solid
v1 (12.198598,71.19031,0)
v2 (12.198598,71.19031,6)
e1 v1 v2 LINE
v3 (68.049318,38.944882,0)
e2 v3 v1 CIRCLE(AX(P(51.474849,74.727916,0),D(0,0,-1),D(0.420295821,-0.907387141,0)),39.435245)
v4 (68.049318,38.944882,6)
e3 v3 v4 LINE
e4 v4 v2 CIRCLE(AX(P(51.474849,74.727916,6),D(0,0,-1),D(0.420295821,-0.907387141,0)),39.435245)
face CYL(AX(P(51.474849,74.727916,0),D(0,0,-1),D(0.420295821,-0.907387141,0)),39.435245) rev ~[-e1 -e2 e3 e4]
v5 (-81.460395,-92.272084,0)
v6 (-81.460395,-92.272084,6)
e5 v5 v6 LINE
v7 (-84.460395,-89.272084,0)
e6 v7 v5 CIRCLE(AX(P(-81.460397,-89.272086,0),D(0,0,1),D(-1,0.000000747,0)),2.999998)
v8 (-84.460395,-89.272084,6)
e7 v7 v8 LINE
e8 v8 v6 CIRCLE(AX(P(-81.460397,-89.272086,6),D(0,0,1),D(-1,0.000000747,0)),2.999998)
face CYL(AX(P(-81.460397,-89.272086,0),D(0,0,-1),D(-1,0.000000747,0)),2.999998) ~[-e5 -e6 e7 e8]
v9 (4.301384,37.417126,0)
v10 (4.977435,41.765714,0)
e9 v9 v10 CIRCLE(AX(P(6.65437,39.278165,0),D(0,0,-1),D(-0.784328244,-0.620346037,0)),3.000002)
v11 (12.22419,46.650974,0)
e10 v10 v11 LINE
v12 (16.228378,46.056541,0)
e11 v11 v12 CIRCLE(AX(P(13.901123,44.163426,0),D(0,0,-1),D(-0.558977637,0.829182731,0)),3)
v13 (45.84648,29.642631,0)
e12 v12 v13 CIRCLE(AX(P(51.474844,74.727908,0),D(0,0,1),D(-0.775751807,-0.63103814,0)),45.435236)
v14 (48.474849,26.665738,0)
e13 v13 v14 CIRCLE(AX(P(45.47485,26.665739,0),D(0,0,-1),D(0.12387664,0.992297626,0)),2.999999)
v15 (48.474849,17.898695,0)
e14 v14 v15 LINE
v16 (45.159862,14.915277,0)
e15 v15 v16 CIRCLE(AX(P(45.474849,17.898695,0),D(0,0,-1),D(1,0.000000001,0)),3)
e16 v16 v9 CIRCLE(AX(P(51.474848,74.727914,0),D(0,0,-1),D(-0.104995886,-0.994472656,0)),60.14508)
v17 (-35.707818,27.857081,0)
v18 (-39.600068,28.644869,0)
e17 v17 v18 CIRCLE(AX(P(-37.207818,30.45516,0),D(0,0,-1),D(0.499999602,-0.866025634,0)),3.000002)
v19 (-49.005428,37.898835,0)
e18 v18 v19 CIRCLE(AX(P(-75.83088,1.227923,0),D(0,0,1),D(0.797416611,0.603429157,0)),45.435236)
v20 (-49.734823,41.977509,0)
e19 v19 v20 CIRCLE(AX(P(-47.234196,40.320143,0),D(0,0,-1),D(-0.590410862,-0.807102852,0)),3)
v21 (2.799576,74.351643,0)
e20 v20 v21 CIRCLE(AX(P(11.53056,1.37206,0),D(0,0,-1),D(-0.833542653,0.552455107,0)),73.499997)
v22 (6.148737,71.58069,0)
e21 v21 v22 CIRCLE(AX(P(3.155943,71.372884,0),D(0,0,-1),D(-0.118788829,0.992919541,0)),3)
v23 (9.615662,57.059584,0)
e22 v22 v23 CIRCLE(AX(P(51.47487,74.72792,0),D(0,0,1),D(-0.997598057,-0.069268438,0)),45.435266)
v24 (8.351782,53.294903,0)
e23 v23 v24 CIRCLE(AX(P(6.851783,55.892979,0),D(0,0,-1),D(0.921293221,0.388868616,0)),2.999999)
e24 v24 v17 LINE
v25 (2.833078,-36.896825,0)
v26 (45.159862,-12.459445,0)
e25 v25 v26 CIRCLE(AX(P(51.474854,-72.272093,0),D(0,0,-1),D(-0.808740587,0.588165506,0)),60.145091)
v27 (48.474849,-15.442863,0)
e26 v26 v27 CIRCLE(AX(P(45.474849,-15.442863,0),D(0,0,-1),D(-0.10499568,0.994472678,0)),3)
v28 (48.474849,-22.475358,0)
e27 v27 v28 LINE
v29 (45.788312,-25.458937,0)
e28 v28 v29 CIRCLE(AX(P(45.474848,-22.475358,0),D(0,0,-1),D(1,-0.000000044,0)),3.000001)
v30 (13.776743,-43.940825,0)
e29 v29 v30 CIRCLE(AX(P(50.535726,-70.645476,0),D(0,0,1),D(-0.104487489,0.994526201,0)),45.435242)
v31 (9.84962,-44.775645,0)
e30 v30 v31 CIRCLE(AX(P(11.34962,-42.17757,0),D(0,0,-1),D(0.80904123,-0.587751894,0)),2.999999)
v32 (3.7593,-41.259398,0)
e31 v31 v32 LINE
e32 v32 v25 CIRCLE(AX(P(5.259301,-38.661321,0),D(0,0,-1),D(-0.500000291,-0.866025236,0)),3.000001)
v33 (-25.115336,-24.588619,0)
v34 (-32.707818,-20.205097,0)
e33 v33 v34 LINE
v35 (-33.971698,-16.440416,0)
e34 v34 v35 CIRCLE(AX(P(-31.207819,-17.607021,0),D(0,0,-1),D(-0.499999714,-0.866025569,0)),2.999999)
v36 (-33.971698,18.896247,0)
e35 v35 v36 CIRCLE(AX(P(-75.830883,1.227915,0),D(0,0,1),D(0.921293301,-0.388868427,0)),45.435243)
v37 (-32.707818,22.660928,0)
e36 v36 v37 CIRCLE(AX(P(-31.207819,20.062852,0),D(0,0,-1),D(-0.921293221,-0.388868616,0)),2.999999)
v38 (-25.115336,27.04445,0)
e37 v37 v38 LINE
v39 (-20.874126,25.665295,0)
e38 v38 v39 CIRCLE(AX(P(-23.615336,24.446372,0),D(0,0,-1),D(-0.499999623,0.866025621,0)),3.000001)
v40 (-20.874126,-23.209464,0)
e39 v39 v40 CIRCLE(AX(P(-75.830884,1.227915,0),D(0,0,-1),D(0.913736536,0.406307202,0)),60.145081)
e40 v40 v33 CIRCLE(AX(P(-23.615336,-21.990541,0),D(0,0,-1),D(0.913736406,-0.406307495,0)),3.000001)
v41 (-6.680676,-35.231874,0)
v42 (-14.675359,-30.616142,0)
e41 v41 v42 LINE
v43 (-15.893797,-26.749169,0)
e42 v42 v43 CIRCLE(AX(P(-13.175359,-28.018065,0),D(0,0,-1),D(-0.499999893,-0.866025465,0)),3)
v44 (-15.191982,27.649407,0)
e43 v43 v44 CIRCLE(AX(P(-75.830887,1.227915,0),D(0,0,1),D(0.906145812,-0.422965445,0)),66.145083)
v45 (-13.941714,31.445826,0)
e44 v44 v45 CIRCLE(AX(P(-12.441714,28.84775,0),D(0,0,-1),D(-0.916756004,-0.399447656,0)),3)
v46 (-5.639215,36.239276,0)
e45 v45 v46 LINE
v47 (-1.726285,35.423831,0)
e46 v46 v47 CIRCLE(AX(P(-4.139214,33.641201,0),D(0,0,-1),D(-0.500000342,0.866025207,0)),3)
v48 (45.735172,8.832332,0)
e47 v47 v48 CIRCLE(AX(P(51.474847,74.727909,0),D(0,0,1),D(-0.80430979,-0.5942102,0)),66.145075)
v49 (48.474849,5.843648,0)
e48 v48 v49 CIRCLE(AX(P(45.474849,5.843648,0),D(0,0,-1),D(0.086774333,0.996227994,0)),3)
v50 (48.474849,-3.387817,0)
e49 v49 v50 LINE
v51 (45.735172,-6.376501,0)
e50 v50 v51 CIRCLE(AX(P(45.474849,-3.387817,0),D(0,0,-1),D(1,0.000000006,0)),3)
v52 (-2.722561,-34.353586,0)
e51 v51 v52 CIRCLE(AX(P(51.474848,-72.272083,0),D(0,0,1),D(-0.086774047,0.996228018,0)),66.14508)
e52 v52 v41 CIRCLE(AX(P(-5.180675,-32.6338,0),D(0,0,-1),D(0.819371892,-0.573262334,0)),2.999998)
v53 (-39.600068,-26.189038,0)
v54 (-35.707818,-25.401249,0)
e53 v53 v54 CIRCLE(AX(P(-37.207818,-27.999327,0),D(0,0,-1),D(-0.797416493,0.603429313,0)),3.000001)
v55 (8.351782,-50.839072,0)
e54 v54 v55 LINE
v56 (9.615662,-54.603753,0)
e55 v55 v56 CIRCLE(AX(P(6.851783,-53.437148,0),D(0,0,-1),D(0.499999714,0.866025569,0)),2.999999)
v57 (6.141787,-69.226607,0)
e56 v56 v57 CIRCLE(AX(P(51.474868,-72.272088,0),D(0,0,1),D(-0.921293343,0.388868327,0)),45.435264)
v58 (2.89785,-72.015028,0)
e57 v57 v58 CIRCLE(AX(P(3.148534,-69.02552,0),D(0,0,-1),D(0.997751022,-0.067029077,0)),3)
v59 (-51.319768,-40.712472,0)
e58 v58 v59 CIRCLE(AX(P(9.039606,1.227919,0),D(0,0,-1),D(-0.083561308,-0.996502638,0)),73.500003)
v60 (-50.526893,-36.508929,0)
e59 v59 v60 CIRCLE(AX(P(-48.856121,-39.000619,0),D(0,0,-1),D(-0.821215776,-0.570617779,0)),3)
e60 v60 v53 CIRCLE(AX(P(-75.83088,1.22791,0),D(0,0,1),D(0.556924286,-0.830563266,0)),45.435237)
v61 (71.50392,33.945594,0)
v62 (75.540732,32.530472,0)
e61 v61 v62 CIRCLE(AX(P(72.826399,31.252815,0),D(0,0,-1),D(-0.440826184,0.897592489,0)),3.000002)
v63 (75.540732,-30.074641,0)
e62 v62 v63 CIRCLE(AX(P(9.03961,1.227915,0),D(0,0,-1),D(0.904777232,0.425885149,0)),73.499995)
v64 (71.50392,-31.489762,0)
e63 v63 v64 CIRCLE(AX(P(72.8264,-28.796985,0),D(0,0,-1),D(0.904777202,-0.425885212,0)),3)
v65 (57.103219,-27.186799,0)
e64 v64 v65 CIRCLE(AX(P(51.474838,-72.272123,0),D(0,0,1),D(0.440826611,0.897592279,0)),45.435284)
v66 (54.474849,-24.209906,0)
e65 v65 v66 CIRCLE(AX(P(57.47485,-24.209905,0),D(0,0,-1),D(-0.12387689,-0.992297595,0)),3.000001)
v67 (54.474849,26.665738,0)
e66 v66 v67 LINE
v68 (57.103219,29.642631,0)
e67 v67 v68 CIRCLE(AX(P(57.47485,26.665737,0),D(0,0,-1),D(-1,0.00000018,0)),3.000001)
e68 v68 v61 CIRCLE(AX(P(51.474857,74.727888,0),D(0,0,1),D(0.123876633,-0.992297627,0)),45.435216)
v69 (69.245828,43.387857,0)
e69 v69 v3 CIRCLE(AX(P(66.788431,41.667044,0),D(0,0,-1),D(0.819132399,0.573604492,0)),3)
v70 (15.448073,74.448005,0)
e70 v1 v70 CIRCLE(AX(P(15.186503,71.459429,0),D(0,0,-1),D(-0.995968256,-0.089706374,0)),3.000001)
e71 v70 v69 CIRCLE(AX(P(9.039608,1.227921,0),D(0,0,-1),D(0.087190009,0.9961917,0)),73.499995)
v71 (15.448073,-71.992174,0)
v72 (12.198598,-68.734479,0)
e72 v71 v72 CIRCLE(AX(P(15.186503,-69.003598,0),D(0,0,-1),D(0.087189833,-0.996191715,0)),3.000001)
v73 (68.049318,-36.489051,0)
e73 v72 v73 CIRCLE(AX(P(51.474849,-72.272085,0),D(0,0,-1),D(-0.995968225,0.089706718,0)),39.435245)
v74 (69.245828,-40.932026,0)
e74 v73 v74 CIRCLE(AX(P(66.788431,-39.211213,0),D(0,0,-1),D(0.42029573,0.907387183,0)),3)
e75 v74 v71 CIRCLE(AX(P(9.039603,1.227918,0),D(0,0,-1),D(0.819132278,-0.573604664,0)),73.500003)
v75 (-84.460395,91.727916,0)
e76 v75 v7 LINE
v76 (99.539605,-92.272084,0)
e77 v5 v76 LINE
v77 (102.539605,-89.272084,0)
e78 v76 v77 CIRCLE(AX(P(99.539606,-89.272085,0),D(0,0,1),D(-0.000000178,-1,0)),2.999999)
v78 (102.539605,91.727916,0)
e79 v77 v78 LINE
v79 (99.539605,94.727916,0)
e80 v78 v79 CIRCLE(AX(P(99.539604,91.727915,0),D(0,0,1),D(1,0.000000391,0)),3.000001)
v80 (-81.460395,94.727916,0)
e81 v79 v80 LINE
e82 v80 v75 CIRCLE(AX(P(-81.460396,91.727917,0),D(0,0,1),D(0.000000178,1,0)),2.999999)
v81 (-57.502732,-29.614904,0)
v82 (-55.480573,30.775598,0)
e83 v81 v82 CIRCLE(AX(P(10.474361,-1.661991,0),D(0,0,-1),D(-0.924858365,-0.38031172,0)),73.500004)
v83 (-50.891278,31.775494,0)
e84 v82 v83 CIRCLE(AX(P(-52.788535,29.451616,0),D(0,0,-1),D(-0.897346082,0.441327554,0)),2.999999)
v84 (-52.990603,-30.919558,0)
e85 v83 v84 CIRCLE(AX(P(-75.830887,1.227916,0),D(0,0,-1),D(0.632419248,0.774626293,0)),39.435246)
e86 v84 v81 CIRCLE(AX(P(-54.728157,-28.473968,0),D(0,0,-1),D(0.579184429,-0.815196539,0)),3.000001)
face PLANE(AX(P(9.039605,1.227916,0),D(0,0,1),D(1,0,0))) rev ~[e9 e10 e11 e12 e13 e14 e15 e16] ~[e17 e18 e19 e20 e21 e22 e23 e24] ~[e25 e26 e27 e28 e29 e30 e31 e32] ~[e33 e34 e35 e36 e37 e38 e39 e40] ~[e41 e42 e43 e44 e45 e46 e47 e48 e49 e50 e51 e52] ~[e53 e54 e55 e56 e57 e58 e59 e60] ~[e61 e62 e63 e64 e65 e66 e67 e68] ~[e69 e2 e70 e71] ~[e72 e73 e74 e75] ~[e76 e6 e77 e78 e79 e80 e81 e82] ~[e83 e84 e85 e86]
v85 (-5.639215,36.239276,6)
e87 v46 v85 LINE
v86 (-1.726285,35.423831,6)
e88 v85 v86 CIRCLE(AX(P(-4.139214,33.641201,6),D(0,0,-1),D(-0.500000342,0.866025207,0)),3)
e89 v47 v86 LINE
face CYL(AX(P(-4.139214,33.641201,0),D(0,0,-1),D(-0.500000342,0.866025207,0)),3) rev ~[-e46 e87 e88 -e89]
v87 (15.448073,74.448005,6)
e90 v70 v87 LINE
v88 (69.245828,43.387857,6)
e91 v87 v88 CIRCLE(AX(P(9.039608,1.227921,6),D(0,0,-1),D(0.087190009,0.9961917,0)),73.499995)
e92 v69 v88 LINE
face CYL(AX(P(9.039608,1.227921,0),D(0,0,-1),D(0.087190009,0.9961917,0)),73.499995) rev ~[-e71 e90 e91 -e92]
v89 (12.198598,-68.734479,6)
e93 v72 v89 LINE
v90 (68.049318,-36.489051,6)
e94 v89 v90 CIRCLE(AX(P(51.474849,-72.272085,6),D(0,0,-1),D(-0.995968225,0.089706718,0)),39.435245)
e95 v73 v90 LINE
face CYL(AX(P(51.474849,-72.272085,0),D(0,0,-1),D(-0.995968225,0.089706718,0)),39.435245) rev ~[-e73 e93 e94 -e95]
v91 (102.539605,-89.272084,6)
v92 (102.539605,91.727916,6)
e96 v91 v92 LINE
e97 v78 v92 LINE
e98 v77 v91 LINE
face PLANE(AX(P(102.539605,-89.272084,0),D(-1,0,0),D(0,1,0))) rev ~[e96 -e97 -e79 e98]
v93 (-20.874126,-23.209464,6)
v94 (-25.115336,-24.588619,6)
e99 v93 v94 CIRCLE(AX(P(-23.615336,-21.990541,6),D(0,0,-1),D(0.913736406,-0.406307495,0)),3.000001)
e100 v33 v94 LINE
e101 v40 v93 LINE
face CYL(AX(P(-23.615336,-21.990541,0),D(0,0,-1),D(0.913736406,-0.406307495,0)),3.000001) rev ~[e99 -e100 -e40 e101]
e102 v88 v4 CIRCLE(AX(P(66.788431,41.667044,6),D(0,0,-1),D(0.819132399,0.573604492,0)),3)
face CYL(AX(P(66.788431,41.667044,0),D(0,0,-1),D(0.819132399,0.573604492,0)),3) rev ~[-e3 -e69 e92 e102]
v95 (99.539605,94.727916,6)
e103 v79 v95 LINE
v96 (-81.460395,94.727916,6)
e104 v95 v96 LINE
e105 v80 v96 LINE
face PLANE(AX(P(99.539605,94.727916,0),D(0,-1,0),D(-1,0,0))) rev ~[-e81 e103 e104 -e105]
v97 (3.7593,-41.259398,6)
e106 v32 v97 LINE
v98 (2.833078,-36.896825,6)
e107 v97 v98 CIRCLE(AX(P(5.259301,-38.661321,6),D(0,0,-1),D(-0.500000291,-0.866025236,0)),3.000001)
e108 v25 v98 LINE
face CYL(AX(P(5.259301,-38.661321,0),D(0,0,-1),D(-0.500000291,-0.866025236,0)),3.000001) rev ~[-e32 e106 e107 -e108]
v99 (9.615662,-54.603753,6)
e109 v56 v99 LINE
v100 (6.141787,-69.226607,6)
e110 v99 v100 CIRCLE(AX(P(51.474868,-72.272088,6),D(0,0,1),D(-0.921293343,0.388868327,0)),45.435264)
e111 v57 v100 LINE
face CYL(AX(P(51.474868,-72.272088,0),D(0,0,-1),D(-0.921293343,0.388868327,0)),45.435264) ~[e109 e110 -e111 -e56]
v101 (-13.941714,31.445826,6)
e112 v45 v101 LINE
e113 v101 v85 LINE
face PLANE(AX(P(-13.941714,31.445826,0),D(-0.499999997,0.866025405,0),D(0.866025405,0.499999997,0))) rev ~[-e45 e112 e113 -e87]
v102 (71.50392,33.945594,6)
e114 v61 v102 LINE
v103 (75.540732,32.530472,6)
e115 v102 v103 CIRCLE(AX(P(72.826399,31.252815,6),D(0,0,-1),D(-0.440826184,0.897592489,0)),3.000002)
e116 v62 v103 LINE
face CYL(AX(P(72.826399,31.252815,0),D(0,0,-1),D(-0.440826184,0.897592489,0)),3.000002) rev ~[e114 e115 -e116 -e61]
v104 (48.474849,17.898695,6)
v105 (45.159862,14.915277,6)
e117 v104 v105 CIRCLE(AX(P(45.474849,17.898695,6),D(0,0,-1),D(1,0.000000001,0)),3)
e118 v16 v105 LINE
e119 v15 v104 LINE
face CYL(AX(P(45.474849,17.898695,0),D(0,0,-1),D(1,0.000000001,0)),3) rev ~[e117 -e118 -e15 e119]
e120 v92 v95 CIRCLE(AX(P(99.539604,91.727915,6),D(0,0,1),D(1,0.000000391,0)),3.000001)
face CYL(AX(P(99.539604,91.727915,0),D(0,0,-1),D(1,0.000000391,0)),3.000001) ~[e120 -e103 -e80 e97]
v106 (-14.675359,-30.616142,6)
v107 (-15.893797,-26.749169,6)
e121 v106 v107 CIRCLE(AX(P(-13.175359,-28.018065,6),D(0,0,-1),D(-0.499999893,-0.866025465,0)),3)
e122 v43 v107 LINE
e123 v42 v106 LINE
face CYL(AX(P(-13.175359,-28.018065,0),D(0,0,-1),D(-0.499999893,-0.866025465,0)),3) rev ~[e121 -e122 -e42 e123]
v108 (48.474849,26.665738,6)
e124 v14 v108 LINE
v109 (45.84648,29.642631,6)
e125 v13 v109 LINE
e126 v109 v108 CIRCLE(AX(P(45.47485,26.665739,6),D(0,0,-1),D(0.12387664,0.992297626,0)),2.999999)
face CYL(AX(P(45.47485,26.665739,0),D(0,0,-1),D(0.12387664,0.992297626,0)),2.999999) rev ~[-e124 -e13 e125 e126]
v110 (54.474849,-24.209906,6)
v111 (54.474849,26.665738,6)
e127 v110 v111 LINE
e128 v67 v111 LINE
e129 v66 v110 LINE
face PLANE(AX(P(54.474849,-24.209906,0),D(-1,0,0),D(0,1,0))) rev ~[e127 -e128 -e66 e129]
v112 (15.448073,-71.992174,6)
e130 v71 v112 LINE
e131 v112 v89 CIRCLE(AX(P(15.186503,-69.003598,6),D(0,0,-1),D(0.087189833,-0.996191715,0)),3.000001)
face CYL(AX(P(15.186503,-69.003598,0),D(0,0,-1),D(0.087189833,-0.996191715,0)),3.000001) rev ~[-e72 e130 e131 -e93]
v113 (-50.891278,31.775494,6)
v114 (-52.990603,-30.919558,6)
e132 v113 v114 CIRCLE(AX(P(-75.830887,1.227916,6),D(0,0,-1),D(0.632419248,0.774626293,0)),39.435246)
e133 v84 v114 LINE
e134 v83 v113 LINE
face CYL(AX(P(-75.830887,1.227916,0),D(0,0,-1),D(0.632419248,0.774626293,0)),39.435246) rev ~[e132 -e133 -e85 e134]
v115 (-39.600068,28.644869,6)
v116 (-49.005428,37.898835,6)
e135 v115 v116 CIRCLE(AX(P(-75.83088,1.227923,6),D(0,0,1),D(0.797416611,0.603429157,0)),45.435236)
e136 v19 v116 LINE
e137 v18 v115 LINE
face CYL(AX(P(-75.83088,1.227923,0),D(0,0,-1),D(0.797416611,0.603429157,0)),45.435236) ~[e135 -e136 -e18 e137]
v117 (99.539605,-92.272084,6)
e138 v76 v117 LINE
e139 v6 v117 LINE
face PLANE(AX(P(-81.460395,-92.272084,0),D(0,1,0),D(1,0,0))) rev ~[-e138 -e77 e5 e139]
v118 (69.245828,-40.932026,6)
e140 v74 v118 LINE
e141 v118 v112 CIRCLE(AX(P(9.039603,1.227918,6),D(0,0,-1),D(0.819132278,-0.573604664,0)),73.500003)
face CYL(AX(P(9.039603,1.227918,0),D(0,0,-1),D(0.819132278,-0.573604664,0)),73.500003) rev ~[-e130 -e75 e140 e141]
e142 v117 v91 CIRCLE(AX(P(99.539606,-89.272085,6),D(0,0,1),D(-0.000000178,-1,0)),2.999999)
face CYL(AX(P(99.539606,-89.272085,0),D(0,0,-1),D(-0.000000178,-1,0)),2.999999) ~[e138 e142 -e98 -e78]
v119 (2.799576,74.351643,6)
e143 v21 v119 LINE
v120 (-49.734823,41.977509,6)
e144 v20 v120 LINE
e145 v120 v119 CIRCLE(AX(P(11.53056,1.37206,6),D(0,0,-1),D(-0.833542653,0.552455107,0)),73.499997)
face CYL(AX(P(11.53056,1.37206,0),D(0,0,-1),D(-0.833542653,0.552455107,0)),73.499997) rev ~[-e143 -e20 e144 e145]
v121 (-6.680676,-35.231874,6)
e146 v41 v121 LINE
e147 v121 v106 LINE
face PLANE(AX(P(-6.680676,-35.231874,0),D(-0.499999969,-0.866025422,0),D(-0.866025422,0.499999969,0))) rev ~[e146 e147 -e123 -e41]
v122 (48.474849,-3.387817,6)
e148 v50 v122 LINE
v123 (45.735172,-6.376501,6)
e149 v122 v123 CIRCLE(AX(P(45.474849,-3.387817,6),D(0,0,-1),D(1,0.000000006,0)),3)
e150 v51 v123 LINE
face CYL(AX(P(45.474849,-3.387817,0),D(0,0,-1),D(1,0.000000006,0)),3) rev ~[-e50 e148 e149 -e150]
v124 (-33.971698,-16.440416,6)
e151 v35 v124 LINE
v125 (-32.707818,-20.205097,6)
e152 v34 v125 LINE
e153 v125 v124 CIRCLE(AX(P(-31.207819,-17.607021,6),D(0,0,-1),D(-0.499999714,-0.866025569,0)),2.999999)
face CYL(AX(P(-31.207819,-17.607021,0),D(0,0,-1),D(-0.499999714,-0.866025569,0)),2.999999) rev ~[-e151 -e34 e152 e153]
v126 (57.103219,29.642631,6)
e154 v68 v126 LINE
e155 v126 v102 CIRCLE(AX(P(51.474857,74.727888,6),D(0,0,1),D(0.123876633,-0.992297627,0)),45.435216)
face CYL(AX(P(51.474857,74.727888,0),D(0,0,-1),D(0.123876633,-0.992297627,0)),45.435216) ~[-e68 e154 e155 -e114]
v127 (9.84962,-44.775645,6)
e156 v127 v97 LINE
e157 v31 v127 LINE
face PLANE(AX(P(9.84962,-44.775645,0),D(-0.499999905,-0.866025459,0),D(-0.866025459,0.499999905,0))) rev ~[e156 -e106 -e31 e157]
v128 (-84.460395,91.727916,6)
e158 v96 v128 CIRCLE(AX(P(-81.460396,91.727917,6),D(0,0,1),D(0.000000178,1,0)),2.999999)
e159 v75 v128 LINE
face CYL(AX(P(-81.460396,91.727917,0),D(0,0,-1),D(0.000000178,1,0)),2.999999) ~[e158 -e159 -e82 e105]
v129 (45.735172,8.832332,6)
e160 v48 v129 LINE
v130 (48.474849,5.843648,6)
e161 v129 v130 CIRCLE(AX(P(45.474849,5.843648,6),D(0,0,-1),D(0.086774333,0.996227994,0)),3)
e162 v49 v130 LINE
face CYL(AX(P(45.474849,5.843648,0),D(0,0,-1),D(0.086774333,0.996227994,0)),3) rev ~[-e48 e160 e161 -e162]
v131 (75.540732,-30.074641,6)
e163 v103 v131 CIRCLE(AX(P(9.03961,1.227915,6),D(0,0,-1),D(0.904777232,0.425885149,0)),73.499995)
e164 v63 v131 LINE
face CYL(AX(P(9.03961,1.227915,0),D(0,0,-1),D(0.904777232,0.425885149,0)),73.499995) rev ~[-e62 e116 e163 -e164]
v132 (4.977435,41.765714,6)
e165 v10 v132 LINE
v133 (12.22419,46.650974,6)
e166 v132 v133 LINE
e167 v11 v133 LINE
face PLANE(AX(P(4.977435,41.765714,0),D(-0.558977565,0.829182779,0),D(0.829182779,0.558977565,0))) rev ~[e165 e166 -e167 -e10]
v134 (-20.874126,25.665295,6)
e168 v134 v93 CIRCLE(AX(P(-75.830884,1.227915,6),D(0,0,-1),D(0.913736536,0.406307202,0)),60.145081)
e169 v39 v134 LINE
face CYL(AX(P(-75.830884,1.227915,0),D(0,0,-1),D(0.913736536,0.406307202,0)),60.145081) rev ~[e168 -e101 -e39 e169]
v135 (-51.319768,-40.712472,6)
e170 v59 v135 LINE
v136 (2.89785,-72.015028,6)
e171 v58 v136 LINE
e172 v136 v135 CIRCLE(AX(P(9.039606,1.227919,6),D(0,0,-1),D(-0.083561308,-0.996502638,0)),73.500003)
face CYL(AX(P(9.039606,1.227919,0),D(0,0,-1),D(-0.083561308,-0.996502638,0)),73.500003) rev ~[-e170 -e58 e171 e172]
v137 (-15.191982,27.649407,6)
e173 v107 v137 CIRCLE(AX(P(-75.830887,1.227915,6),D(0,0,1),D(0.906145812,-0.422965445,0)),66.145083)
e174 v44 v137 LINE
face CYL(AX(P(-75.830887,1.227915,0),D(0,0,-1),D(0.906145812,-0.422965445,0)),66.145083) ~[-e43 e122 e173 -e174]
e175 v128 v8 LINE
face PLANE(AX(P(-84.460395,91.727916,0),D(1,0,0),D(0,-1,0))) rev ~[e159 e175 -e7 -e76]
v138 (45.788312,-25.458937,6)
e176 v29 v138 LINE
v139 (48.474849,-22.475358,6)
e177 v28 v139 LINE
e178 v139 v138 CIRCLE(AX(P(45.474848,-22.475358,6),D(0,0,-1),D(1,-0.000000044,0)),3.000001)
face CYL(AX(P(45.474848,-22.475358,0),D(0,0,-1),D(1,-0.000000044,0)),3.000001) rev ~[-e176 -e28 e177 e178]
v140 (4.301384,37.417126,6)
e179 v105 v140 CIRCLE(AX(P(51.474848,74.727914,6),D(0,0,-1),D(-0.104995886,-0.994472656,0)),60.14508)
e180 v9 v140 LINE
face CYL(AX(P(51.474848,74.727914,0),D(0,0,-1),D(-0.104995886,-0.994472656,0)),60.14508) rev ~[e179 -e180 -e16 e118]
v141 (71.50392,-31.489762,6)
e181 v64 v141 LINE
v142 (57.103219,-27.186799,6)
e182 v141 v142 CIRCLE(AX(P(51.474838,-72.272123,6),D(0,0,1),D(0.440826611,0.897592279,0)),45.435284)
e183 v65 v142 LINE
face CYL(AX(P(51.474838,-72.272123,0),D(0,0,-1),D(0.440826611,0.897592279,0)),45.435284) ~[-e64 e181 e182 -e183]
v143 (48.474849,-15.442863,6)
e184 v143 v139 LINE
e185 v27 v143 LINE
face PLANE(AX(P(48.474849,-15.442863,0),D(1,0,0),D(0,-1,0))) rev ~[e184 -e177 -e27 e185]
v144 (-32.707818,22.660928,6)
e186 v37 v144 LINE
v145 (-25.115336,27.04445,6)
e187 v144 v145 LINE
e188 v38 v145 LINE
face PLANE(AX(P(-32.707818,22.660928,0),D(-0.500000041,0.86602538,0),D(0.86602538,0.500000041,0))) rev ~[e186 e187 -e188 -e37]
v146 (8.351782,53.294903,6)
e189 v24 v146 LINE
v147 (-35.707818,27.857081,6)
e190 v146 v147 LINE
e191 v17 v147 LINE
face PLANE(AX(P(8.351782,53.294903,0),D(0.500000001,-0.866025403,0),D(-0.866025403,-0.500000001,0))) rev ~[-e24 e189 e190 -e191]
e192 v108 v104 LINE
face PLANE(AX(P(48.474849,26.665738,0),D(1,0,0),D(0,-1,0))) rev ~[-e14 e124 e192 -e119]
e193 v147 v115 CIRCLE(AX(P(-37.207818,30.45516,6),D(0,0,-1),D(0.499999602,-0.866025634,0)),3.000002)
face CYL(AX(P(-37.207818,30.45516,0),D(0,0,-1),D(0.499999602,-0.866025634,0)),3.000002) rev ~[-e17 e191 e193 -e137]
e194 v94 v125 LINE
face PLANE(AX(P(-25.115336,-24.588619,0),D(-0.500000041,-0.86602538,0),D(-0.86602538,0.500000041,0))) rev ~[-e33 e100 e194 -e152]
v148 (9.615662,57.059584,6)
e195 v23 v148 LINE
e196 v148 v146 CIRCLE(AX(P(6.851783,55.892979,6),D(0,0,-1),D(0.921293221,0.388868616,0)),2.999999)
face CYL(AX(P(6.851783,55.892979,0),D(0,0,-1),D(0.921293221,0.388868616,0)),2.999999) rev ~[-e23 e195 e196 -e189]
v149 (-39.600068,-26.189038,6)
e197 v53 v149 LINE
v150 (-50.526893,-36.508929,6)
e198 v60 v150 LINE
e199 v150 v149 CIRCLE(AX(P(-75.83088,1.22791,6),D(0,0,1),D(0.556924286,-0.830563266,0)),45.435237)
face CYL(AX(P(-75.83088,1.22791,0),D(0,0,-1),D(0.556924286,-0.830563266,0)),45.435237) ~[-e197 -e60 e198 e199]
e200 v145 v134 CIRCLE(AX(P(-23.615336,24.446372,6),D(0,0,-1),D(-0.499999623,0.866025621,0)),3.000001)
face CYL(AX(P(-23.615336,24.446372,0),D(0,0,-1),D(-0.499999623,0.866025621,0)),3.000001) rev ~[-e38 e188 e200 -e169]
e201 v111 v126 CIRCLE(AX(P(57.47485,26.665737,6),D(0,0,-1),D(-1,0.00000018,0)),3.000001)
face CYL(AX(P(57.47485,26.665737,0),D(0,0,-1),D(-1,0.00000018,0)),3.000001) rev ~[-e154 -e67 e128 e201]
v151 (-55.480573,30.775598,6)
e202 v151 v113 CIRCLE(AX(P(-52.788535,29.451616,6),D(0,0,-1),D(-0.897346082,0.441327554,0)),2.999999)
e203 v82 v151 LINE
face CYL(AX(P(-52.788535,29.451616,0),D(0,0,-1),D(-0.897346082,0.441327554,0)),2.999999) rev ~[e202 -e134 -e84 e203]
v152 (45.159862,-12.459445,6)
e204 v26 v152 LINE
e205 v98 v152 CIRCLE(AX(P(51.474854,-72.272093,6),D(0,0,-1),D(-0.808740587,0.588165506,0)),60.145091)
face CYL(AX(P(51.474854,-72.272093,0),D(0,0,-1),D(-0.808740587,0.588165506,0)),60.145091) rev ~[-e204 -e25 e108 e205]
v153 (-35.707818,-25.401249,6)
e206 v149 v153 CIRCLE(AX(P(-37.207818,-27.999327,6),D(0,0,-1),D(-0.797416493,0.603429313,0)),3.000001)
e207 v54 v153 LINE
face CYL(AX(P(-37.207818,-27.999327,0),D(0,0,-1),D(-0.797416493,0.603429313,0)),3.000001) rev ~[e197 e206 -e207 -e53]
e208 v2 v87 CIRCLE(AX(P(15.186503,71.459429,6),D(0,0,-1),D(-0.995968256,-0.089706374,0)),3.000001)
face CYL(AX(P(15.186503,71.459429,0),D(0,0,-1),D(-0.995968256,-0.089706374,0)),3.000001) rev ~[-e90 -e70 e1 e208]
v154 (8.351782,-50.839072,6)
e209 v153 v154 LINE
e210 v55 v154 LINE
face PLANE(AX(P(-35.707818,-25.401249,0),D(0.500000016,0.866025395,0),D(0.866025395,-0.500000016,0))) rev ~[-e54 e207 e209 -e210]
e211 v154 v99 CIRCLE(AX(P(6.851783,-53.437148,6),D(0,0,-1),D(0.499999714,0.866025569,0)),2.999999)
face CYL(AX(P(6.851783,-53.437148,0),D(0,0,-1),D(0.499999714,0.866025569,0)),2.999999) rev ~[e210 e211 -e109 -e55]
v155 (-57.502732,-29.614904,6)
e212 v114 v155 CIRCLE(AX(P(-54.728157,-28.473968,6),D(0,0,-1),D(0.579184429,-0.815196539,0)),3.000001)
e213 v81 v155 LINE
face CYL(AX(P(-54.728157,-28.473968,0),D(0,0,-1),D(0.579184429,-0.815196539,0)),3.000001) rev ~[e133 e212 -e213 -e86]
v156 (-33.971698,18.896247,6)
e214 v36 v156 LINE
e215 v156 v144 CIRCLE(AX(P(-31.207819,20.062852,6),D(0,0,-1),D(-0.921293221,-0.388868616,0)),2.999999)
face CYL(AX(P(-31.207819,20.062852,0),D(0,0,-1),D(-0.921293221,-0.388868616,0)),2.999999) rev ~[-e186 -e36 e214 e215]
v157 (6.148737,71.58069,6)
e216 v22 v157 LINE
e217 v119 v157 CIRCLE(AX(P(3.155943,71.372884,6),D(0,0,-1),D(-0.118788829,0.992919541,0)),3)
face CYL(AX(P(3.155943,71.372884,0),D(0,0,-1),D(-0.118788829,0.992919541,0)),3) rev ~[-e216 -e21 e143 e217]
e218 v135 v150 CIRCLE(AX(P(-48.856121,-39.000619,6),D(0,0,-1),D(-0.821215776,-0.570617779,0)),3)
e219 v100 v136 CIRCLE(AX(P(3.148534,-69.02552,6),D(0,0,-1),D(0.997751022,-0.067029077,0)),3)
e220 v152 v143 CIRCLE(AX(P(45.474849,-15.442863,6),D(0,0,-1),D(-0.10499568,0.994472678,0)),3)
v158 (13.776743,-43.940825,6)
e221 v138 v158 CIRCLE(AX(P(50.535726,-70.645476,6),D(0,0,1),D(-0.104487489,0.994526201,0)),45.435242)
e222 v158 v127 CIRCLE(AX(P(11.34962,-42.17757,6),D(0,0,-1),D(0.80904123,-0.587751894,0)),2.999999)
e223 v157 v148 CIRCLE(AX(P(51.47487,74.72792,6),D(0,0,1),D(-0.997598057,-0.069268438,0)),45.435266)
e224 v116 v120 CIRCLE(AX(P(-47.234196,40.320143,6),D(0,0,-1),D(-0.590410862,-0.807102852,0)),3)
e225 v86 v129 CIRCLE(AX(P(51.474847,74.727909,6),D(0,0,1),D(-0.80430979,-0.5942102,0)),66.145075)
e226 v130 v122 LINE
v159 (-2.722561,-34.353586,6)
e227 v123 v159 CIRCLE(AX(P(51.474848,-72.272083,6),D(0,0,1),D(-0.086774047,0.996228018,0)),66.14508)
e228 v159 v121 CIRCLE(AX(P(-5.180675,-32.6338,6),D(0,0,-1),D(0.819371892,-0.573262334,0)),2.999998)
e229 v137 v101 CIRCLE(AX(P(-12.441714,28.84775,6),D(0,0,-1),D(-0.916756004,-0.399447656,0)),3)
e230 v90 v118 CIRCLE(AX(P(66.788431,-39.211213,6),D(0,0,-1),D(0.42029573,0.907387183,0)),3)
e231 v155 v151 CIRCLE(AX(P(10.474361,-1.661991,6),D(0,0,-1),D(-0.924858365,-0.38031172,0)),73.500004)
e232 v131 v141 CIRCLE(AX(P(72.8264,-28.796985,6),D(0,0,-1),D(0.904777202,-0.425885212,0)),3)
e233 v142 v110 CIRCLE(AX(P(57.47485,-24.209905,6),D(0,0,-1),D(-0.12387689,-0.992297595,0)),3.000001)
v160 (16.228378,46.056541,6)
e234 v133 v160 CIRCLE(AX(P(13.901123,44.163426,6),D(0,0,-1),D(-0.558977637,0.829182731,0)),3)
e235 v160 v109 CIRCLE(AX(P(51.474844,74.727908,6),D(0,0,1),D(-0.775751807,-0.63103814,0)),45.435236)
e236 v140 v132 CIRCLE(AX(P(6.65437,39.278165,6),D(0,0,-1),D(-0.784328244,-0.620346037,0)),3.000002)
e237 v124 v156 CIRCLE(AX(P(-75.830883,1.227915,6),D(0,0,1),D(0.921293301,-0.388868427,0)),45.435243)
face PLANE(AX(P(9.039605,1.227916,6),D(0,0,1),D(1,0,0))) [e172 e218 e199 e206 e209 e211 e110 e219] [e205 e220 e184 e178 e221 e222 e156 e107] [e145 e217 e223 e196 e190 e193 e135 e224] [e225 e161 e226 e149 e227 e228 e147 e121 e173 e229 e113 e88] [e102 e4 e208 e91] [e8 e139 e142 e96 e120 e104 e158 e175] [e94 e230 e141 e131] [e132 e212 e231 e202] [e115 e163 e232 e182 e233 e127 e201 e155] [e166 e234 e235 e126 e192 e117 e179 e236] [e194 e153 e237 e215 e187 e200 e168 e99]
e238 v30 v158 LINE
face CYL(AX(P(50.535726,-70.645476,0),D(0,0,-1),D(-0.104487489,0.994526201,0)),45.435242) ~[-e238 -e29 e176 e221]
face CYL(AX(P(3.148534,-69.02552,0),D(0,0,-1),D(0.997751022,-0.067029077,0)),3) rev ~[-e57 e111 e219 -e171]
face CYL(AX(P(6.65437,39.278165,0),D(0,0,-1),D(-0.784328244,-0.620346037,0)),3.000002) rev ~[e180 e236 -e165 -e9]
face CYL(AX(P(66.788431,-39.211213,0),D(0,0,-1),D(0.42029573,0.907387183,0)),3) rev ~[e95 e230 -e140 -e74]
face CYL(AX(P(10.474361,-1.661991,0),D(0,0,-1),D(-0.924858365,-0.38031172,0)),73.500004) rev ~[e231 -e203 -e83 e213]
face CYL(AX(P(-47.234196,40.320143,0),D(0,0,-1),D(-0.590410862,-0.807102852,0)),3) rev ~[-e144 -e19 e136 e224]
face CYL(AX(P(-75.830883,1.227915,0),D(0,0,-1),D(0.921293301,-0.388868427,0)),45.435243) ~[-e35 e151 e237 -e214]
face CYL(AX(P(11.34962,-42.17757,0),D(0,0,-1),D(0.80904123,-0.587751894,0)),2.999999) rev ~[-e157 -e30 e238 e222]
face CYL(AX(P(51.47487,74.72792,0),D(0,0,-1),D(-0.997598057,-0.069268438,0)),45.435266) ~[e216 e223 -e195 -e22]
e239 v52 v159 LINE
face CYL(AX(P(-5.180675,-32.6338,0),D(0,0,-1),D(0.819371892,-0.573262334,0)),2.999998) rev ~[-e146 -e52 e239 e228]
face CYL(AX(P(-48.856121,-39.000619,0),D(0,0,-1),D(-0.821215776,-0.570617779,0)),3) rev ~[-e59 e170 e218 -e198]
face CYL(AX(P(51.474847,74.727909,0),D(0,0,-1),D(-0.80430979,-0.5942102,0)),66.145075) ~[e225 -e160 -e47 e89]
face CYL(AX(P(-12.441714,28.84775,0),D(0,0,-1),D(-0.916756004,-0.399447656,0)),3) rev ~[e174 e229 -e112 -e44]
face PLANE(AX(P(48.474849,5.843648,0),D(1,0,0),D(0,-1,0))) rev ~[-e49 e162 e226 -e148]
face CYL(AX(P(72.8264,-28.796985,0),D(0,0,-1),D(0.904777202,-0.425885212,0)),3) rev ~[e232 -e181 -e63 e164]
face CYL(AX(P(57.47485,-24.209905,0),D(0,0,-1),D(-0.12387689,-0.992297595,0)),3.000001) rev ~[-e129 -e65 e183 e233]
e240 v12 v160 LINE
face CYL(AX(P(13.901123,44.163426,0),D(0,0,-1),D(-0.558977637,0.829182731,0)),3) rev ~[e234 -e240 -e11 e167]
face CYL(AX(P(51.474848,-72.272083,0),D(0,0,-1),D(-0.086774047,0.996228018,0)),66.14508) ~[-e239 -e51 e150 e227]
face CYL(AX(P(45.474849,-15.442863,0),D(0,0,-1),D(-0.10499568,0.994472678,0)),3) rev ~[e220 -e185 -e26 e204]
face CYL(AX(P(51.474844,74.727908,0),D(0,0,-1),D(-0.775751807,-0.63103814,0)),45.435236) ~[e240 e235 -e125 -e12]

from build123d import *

# Parameters (mm, degrees)
F1_DEPTH = 6


with BuildPart() as f1:
    # F0 (on Top) → F1 (new body)
    with BuildSketch(Plane.XY):
        with BuildLine():
            Line((99.539605, 94.727916), (-81.460395, 94.727916))
            ThreePointArc((-81.460395, 94.727916), (-83.581716, 93.849236), (-84.460395, 91.727916))
            Line((-84.460395, 91.727916), (-84.460395, -89.272084))
            ThreePointArc((-84.460395, -89.272084), (-83.581716, -91.393405), (-81.460395, -92.272084))
            Line((-81.460395, -92.272084), (99.539605, -92.272084))
            ThreePointArc((99.539605, -92.272084), (101.660925, -91.393405), (102.539605, -89.272084))
            Line((102.539605, -89.272084), (102.539605, 91.727916))
            ThreePointArc((102.539605, 91.727916), (101.660925, 93.849236), (99.539605, 94.727916))
        make_face()
        with BuildLine():
            ThreePointArc((9.615662, -54.603753), (7.269883, -61.770541), (6.141787, -69.226607))
            ThreePointArc((6.141787, -69.226607), (5.104101, -71.300549), (2.89785, -72.015028))
            ThreePointArc((2.89785, -72.015028), (-27.710395, -62.424951), (-51.319768, -40.712472))
            ThreePointArc((-51.319768, -40.712472), (-51.804137, -38.444562), (-50.526893, -36.508929))
            ThreePointArc((-50.526893, -36.508929), (-44.633798, -31.803936), (-39.600068, -26.189038))
            ThreePointArc((-39.600068, -26.189038), (-37.802948, -25.058948), (-35.707818, -25.401249))
            Line((-35.707818, -25.401249), (8.351782, -50.839072))
            ThreePointArc((8.351782, -50.839072), (9.695789, -52.482357), (9.615662, -54.603753))
        make_face(mode=Mode.SUBTRACT)
        with BuildLine():
            ThreePointArc((-55.480573, 30.775598), (-53.42718, 32.382849), (-50.891278, 31.775494))
            ThreePointArc((-50.891278, 31.775494), (-36.41773, -0.091822), (-52.990603, -30.919558))
            ThreePointArc((-52.990603, -30.919558), (-55.561454, -31.355915), (-57.502732, -29.614904))
            ThreePointArc((-57.502732, -29.614904), (-62.984472, 0.797757), (-55.480573, 30.775598))
        make_face(mode=Mode.SUBTRACT)
        with BuildLine():
            ThreePointArc((15.448073, -71.992174), (13.062505, -71.122238), (12.198598, -68.734479))
            ThreePointArc((12.198598, -68.734479), (31.757227, -38.120161), (68.049318, -36.489051))
            ThreePointArc((68.049318, -36.489051), (69.685225, -38.431095), (69.245828, -40.932026))
            ThreePointArc((69.245828, -40.932026), (45.789605, -62.424951), (15.448073, -71.992174))
        make_face(mode=Mode.SUBTRACT)
        with BuildLine():
            ThreePointArc((3.7593, -41.259398), (2.324711, -39.284367), (2.833078, -36.896825))
            ThreePointArc((2.833078, -36.896825), (21.402309, -20.184916), (45.159862, -12.459445))
            ThreePointArc((45.159862, -12.459445), (47.481717, -13.212957), (48.474849, -15.442863))
            Line((48.474849, -15.442863), (48.474849, -22.475358))
            ThreePointArc((48.474849, -22.475358), (47.704242, -24.482796), (45.788312, -25.458937))
            ThreePointArc((45.788312, -25.458937), (27.818105, -31.297402), (13.776743, -43.940825))
            ThreePointArc((13.776743, -43.940825), (11.973415, -45.111999), (9.84962, -44.775645))
            Line((9.84962, -44.775645), (3.7593, -41.259398))
        make_face(mode=Mode.SUBTRACT)
        with BuildLine():
            ThreePointArc((-1.726285, 35.423831), (19.144031, 17.022716), (45.735172, 8.832332))
            ThreePointArc((45.735172, 8.832332), (47.686293, 7.870842), (48.474849, 5.843648))
            Line((48.474849, 5.843648), (48.474849, -3.387817))
            ThreePointArc((48.474849, -3.387817), (47.686293, -5.415011), (45.735172, -6.376501))
            ThreePointArc((45.735172, -6.376501), (18.402309, -14.988763), (-2.722561, -34.353586))
            ThreePointArc((-2.722561, -34.353586), (-4.530796, -35.562562), (-6.680676, -35.231874))
            Line((-6.680676, -35.231874), (-14.675359, -30.616142))
            ThreePointArc((-14.675359, -30.616142), (-16.036683, -28.919635), (-15.893797, -26.749169))
            ThreePointArc((-15.893797, -26.749169), (-9.691308, 0.374626), (-15.191982, 27.649407))
            ThreePointArc((-15.191982, 27.649407), (-15.291169, 29.786156), (-13.941714, 31.445826))
            Line((-13.941714, 31.445826), (-5.639215, 36.239276))
            ThreePointArc((-5.639215, 36.239276), (-3.527171, 36.578104), (-1.726285, 35.423831))
        make_face(mode=Mode.SUBTRACT)
        with BuildLine():
            Line((54.474849, -24.209906), (54.474849, 26.665738))
            ThreePointArc((54.474849, 26.665738), (55.225973, 28.651325), (57.103219, 29.642631))
            ThreePointArc((57.103219, 29.642631), (64.482729, 31.19452), (71.50392, 33.945594))
            ThreePointArc((71.50392, 33.945594), (73.818849, 34.083902), (75.540732, 32.530472))
            ThreePointArc((75.540732, 32.530472), (82.539605, 1.227916), (75.540732, -30.074641))
            ThreePointArc((75.540732, -30.074641), (73.818849, -31.628071), (71.50392, -31.489762))
            ThreePointArc((71.50392, -31.489762), (64.482729, -28.738689), (57.103219, -27.186799))
            ThreePointArc((57.103219, -27.186799), (55.225973, -26.195493), (54.474849, -24.209906))
        make_face(mode=Mode.SUBTRACT)
        with BuildLine():
            ThreePointArc((-33.971698, 18.896247), (-34.051825, 21.017643), (-32.707818, 22.660928))
            Line((-32.707818, 22.660928), (-25.115336, 27.04445))
            ThreePointArc((-25.115336, 27.04445), (-22.687615, 27.299325), (-20.874126, 25.665295))
            ThreePointArc((-20.874126, 25.665295), (-15.685803, 1.227916), (-20.874126, -23.209464))
            ThreePointArc((-20.874126, -23.209464), (-22.687615, -24.843494), (-25.115336, -24.588619))
            Line((-25.115336, -24.588619), (-32.707818, -20.205097))
            ThreePointArc((-32.707818, -20.205097), (-34.051825, -18.561812), (-33.971698, -16.440416))
            ThreePointArc((-33.971698, -16.440416), (-30.39564, 1.227916), (-33.971698, 18.896247))
        make_face(mode=Mode.SUBTRACT)
        with BuildLine():
            ThreePointArc((-39.600068, 28.644869), (-43.965035, 33.61509), (-49.005428, 37.898835))
            ThreePointArc((-49.005428, 37.898835), (-50.187345, 39.792027), (-49.734823, 41.977509))
            ThreePointArc((-49.734823, 41.977509), (-27.029704, 63.944863), (2.799576, 74.351643))
            ThreePointArc((2.799576, 74.351643), (5.068332, 73.684327), (6.148737, 71.58069))
            ThreePointArc((6.148737, 71.58069), (7.281697, 64.176766), (9.615662, 57.059584))
            ThreePointArc((9.615662, 57.059584), (9.695789, 54.938188), (8.351782, 53.294903))
            Line((8.351782, 53.294903), (-35.707818, 27.857081))
            ThreePointArc((-35.707818, 27.857081), (-37.802948, 27.51478), (-39.600068, 28.644869))
        make_face(mode=Mode.SUBTRACT)
        with BuildLine():
            ThreePointArc((48.474849, 17.898695), (47.481717, 15.668789), (45.159862, 14.915277))
            ThreePointArc((45.159862, 14.915277), (22.460423, 22.04401), (4.301384, 37.417126))
            ThreePointArc((4.301384, 37.417126), (3.689978, 39.739023), (4.977435, 41.765714))
            Line((4.977435, 41.765714), (12.22419, 46.650974))
            ThreePointArc((12.22419, 46.650974), (14.341654, 47.130905), (16.228378, 46.056541))
            ThreePointArc((16.228378, 46.056541), (29.451174, 34.987266), (45.84648, 29.642631))
            ThreePointArc((45.84648, 29.642631), (47.723726, 28.651325), (48.474849, 26.665738))
            Line((48.474849, 26.665738), (48.474849, 17.898695))
        make_face(mode=Mode.SUBTRACT)
        with BuildLine():
            ThreePointArc((69.245828, 43.387857), (69.685225, 40.886926), (68.049318, 38.944882))
            ThreePointArc((68.049318, 38.944882), (31.757227, 40.575992), (12.198598, 71.19031))
            ThreePointArc((12.198598, 71.19031), (13.062505, 73.578069), (15.448073, 74.448005))
            ThreePointArc((15.448073, 74.448005), (45.789605, 64.880783), (69.245828, 43.387857))
        make_face(mode=Mode.SUBTRACT)
    extrude(amount=F1_DEPTH)


solid = f1.part
